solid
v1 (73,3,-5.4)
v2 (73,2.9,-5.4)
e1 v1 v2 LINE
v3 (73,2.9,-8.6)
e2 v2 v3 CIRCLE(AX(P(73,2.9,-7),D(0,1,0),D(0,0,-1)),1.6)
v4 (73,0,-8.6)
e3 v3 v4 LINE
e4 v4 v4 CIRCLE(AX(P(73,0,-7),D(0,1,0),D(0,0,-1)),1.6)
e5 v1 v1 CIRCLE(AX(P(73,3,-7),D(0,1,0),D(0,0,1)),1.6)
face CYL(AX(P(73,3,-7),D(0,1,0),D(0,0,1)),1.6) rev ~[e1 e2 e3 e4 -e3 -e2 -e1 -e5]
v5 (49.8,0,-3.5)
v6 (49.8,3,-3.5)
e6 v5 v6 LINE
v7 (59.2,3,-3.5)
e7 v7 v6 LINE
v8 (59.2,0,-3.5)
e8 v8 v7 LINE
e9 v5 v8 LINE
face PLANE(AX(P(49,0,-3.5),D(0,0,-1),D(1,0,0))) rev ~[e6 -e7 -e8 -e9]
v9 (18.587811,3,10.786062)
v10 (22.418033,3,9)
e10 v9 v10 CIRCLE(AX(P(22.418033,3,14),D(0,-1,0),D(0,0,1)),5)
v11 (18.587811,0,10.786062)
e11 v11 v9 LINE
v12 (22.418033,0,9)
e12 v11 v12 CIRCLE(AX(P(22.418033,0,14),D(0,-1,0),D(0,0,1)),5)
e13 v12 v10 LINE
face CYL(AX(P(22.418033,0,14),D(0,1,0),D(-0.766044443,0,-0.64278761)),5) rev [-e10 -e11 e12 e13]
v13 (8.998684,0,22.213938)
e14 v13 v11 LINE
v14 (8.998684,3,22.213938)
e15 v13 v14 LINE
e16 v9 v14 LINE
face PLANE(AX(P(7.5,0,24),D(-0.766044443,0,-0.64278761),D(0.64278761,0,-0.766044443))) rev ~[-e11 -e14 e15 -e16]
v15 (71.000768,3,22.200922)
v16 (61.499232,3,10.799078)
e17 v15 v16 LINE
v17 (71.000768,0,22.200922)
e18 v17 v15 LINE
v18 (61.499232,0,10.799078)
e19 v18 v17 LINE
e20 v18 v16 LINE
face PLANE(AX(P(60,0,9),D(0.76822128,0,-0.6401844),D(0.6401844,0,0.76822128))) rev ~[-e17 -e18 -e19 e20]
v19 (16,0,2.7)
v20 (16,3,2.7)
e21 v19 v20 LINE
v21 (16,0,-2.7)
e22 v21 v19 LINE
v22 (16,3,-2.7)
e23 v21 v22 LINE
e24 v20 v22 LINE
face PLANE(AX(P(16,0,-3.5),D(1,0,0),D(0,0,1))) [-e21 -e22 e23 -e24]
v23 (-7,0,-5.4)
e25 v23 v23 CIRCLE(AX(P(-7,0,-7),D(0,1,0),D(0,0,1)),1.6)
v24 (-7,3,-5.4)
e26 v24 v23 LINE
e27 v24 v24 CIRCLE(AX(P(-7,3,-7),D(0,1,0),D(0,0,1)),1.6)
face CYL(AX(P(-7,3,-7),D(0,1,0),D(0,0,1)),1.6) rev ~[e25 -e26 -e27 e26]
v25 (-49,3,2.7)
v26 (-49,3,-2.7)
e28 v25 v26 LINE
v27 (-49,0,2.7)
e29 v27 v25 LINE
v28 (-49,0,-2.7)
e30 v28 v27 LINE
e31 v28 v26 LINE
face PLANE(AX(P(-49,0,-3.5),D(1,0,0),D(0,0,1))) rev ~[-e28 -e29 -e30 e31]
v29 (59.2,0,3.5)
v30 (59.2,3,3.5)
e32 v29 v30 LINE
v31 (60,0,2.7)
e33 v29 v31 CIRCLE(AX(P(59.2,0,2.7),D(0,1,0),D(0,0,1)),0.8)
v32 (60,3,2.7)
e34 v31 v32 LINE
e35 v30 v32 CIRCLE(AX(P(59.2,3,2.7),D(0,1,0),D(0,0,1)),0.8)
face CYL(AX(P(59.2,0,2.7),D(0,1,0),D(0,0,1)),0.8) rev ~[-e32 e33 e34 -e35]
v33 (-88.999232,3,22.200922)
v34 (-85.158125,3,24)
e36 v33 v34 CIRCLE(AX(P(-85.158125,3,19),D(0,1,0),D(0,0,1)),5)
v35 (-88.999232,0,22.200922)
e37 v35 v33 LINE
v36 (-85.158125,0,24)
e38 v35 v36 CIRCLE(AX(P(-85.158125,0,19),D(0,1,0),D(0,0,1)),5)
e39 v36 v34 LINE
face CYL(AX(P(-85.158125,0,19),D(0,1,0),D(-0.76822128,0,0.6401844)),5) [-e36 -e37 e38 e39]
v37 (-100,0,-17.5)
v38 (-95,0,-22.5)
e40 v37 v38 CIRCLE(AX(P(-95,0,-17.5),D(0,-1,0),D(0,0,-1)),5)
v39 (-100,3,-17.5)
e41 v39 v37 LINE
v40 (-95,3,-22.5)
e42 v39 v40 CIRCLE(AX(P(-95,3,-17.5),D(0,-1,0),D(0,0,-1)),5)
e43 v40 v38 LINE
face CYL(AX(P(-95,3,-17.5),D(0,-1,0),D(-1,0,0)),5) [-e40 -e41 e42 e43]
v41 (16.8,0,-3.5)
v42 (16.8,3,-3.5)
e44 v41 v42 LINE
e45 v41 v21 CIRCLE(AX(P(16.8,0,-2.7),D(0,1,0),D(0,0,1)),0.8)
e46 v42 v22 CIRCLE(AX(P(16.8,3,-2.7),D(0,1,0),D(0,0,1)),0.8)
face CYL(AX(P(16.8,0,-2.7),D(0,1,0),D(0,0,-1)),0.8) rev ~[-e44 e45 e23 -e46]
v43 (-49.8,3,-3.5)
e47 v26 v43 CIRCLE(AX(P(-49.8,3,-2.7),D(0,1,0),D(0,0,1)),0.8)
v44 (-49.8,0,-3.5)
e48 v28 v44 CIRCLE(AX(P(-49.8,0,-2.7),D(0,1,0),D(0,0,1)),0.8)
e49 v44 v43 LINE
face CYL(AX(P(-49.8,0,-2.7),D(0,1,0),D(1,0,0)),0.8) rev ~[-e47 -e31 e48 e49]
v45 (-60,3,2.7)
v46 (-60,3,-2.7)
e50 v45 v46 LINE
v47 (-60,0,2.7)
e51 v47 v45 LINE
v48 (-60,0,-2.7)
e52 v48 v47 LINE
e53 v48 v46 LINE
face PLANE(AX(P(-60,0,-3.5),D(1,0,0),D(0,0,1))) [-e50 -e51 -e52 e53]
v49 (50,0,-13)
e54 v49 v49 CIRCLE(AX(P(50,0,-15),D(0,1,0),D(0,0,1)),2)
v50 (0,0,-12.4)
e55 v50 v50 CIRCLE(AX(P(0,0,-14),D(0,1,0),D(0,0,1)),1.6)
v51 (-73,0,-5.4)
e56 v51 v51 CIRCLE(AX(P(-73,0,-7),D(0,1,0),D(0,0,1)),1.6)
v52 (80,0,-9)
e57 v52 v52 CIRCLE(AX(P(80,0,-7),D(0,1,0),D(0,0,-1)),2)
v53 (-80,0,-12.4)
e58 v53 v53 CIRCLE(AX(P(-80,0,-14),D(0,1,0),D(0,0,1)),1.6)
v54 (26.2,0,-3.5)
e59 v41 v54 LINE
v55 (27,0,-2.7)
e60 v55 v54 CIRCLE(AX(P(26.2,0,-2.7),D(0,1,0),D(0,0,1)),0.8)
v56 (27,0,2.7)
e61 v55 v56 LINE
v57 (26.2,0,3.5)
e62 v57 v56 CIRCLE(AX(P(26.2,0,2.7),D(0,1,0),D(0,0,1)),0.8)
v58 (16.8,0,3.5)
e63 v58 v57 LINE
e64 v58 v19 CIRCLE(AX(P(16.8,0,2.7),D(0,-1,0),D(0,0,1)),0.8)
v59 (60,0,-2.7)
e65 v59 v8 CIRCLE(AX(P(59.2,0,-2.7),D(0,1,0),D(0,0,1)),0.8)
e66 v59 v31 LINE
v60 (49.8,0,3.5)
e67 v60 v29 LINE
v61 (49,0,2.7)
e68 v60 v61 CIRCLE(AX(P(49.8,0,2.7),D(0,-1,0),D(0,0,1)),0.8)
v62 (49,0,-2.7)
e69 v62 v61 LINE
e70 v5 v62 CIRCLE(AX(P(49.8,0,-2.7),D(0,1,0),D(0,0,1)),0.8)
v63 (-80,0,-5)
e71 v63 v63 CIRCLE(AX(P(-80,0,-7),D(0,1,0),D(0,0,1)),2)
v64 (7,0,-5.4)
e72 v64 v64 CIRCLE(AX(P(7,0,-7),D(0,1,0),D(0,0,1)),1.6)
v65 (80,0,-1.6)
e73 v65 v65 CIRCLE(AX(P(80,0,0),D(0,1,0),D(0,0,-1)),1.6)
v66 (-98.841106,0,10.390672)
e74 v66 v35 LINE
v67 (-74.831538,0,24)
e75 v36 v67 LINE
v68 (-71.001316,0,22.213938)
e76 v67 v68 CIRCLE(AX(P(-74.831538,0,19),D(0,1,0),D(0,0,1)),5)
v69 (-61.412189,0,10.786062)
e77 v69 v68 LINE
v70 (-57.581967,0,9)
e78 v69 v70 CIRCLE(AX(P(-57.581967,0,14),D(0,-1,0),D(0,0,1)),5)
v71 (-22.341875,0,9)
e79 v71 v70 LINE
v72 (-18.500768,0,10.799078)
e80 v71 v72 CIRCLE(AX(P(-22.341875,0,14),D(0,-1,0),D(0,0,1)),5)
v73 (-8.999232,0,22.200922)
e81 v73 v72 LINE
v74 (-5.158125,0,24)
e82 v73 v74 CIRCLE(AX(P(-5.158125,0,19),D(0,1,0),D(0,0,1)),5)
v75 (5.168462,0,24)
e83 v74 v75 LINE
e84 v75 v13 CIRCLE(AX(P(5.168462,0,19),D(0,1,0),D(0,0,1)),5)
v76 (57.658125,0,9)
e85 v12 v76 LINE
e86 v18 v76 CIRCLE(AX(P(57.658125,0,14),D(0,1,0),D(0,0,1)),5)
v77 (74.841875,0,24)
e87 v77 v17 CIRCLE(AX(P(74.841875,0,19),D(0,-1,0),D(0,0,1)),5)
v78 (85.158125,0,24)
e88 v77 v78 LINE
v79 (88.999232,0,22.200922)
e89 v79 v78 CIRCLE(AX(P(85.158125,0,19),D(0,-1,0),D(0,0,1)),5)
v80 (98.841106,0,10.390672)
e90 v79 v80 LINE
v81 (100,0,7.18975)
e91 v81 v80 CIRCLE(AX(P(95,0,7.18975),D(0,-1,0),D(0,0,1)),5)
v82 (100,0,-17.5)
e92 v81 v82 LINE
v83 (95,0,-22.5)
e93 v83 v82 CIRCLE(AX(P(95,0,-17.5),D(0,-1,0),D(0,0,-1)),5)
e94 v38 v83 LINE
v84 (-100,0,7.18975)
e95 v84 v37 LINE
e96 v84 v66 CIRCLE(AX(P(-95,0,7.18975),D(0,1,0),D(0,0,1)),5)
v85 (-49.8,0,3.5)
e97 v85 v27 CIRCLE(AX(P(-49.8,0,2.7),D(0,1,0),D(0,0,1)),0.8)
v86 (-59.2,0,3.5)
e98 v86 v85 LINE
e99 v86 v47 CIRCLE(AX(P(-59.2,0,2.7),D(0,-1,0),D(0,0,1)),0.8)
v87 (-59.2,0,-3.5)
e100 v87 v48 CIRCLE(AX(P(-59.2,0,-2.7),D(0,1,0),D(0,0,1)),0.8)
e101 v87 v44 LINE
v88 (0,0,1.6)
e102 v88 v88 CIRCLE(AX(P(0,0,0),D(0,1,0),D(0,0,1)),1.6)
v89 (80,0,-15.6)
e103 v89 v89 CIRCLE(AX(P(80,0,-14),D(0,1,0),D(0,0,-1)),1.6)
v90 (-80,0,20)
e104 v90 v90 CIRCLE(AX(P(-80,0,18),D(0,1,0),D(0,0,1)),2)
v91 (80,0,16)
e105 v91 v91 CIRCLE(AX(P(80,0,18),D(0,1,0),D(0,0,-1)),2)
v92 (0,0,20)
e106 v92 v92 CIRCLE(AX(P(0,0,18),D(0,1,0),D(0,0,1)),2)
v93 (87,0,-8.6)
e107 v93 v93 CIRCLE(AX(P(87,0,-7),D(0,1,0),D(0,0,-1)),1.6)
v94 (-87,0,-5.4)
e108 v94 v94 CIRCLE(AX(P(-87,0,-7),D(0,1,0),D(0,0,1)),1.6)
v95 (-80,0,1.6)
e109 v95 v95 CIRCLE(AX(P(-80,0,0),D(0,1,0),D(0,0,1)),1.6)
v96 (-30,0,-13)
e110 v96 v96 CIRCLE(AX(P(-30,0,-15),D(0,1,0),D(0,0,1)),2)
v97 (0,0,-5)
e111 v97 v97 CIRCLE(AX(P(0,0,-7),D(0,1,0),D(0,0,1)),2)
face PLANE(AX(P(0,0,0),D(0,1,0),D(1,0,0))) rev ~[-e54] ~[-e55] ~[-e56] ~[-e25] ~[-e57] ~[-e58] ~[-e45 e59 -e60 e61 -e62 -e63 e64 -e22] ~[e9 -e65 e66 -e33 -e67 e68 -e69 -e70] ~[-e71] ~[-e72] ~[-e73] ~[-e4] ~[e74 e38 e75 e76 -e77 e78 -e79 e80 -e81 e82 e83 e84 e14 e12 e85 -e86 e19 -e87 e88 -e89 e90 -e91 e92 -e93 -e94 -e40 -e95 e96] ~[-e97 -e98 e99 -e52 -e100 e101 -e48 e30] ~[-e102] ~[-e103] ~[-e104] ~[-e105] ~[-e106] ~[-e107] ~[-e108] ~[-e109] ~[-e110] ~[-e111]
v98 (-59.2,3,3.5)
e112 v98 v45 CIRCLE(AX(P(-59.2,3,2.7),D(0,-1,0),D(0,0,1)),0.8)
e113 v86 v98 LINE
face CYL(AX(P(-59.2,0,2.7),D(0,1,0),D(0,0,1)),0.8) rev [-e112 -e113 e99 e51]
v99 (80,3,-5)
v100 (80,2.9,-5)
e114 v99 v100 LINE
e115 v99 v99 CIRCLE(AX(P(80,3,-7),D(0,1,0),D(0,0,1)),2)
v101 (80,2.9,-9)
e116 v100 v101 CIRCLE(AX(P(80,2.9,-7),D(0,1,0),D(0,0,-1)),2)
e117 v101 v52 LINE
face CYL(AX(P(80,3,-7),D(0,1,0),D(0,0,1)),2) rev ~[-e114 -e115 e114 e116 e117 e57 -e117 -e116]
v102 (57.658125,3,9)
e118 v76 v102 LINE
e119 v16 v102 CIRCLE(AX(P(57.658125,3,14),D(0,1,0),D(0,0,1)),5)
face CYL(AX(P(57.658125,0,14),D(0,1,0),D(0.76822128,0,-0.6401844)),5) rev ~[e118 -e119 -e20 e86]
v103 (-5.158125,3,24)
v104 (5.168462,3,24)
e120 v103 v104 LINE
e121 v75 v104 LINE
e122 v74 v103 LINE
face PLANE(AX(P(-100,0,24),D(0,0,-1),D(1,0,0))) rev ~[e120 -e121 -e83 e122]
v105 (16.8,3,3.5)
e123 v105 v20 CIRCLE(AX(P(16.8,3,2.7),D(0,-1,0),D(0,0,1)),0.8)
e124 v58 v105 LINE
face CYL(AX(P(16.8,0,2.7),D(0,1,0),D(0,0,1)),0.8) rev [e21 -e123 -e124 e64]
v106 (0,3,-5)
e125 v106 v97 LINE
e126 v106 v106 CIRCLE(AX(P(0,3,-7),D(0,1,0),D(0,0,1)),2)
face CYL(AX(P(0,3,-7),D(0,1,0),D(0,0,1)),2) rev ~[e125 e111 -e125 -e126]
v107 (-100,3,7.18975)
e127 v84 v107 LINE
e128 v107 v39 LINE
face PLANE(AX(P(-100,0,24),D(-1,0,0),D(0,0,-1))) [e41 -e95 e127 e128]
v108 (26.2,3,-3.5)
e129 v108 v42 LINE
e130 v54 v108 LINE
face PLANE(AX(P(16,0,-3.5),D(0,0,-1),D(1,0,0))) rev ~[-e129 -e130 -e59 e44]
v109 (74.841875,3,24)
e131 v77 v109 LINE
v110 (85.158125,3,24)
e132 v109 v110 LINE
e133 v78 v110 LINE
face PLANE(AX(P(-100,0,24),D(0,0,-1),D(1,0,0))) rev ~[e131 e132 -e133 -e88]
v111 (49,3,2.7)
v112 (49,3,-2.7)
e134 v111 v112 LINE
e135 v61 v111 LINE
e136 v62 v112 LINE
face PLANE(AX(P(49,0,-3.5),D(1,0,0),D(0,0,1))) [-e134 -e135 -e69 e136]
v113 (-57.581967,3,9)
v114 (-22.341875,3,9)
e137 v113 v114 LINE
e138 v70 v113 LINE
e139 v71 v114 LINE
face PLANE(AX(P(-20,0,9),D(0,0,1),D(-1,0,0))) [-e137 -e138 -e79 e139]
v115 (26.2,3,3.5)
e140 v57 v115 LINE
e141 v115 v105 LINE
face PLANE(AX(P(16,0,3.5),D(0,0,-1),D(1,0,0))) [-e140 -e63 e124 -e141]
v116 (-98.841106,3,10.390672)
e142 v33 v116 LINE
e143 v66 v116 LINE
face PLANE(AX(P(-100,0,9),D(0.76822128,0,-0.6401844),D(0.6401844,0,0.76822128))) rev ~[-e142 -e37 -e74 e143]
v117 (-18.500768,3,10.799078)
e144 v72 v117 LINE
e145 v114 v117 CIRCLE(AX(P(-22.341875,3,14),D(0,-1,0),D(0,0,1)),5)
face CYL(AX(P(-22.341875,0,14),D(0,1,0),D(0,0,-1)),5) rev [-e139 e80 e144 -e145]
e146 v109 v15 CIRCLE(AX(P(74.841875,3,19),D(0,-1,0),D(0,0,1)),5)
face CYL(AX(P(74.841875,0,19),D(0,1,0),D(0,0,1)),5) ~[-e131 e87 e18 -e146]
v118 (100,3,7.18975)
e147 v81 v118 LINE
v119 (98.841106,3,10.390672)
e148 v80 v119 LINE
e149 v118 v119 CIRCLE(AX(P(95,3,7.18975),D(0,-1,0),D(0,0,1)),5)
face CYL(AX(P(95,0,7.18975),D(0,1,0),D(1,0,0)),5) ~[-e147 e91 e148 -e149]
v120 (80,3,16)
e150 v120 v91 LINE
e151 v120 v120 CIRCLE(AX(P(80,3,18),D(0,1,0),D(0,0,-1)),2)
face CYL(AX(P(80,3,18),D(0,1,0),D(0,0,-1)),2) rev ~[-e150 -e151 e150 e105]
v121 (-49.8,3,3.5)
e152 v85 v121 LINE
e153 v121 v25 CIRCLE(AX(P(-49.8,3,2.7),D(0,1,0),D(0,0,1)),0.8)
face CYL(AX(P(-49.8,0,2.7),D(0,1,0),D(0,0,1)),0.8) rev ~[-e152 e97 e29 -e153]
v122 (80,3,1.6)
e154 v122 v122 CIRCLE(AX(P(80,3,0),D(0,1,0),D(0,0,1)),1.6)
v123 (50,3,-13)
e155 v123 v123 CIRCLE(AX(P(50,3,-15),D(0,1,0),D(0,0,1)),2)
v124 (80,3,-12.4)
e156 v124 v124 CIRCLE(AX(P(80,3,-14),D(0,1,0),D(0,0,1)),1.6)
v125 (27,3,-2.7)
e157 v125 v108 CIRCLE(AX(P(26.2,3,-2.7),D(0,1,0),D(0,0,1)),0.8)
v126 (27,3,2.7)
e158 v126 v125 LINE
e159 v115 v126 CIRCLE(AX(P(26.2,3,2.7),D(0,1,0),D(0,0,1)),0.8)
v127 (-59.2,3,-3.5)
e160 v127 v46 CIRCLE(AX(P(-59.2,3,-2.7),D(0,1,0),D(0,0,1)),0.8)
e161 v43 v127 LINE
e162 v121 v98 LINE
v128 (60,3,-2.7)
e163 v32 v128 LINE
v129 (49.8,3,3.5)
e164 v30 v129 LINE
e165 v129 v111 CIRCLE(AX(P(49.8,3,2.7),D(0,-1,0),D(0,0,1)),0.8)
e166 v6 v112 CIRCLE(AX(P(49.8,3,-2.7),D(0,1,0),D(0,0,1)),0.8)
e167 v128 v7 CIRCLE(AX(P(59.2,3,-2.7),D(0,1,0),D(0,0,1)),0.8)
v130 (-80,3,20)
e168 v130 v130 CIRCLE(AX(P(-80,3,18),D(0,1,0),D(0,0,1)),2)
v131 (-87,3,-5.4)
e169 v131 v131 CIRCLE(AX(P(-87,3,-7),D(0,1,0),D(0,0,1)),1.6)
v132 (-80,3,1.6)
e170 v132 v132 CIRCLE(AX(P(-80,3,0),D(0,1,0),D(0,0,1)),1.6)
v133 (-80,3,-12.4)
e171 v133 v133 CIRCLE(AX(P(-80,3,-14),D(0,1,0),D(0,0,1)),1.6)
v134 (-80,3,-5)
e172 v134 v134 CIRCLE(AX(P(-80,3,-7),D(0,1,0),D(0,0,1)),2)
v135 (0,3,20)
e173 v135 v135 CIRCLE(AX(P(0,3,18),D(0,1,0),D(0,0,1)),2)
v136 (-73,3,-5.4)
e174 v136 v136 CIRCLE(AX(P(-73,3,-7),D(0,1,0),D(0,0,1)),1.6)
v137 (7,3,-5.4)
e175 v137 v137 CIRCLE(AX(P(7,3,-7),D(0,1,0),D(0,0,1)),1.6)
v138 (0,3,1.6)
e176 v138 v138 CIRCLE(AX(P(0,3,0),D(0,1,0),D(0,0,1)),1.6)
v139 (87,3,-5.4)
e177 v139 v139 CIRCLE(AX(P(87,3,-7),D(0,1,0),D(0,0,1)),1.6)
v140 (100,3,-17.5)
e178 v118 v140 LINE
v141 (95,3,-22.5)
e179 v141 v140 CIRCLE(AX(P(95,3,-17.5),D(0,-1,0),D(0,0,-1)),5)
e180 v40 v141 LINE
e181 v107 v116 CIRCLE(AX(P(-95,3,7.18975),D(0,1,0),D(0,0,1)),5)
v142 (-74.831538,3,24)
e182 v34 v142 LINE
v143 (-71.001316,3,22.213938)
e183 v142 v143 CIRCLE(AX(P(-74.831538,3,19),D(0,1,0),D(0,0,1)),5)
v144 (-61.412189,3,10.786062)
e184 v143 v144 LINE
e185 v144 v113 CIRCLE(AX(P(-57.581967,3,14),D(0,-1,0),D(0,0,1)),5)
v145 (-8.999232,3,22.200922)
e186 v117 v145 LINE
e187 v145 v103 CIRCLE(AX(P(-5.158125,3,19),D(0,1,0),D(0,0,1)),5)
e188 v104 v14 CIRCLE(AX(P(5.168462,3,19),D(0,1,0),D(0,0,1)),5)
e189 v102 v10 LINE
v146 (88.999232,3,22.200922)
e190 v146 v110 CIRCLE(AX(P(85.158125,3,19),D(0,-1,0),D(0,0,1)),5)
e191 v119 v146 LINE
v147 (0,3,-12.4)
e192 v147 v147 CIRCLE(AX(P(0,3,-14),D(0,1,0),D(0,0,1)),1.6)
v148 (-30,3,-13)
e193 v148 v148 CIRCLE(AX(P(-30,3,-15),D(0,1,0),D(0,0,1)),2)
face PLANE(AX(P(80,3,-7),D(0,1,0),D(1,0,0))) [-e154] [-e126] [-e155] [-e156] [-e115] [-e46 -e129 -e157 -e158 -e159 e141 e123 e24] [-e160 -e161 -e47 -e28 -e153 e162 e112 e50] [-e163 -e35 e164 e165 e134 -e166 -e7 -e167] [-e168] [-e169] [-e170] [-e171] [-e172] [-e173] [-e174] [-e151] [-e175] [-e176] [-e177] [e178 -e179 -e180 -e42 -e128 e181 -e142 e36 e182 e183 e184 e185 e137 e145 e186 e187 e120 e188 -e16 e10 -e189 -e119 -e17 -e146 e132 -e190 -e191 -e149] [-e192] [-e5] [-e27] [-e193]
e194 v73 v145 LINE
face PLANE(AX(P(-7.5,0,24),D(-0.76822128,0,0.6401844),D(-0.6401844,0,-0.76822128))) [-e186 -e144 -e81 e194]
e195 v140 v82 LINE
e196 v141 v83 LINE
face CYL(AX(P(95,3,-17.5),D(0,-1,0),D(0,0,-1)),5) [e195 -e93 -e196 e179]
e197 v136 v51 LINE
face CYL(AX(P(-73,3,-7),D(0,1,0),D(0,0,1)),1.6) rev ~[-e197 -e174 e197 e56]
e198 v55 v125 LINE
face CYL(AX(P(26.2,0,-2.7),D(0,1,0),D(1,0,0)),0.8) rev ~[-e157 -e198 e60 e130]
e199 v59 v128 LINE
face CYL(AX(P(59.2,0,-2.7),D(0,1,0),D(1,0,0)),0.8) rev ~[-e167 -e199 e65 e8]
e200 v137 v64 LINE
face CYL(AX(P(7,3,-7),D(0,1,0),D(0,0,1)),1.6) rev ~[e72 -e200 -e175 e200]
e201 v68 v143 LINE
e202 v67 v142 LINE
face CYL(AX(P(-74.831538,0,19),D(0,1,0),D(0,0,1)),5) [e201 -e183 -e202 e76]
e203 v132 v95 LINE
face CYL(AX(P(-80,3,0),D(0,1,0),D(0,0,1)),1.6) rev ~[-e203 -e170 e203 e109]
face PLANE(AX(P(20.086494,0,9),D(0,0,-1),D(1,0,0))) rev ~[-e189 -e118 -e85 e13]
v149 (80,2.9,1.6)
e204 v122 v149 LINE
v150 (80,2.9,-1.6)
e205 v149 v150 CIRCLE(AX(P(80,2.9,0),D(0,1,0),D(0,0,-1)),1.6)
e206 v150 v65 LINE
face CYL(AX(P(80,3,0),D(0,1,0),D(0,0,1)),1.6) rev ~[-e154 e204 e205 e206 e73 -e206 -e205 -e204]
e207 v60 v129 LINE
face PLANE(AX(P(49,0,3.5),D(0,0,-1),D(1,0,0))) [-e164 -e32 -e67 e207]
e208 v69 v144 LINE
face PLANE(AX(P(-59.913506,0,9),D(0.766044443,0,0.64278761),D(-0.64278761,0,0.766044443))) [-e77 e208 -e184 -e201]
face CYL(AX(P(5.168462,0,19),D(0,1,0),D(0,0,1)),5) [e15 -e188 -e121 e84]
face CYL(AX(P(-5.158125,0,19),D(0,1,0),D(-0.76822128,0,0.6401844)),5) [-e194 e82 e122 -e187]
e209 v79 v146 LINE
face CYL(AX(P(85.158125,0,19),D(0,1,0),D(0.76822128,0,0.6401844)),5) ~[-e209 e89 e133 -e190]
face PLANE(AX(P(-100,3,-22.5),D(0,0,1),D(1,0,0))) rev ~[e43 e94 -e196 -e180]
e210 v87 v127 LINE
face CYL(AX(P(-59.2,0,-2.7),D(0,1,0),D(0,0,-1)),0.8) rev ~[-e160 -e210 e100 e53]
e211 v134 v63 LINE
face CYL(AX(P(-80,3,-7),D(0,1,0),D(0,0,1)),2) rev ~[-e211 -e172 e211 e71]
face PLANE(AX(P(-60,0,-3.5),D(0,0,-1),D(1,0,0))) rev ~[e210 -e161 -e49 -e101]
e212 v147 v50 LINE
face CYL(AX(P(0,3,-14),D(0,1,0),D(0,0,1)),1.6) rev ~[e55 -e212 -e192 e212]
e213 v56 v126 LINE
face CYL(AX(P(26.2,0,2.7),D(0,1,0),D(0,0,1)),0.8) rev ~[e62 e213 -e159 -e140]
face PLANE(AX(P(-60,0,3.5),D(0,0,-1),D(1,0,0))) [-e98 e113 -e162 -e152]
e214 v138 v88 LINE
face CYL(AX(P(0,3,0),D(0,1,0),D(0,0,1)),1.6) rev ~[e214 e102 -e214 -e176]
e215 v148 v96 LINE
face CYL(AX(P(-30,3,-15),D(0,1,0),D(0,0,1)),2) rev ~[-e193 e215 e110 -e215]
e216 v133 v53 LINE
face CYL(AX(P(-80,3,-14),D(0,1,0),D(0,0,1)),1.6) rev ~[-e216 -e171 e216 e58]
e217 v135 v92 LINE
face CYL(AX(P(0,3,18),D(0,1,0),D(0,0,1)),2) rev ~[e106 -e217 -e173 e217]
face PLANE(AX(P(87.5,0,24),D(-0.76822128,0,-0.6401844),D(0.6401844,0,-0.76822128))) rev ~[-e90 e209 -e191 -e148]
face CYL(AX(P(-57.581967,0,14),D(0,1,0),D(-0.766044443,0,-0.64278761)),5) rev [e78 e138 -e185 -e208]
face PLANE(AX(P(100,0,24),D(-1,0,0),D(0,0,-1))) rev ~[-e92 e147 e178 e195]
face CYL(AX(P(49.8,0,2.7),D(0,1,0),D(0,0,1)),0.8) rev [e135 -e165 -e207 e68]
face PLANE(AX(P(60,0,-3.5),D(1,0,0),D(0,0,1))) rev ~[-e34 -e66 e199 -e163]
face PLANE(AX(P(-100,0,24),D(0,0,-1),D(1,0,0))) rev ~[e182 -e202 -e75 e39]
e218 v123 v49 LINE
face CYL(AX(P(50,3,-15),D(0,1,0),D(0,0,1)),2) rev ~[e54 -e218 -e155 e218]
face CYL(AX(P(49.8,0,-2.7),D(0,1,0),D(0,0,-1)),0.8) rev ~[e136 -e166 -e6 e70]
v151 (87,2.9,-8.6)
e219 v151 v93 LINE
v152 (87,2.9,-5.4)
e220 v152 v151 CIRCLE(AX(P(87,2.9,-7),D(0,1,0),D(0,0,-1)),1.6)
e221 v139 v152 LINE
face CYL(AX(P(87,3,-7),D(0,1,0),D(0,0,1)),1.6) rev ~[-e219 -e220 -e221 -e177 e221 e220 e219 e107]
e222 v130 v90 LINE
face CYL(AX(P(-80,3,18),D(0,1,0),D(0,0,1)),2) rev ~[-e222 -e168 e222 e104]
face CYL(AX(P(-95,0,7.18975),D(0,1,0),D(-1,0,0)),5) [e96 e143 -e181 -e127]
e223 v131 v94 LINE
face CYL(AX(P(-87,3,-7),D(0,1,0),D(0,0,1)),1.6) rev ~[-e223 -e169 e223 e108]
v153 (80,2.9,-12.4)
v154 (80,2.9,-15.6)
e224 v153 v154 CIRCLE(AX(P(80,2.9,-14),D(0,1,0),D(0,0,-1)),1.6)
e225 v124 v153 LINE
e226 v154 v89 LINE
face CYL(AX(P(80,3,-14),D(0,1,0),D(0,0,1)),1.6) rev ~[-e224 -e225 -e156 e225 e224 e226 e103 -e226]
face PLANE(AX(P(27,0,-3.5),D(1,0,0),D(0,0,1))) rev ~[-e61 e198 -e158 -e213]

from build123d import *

# Parameters (mm, degrees)
SKETCH_1_W             = 200
SKETCH_1_H             = 48
EXTRUDE_1_DEPTH        = 3
SKETCH_2_R             = 2
CUT_EXTRUDE_1_DEPTH    = 3
SKETCH_3_R             = 10.5
CUT_EXTRUDE_2_DEPTH    = 0.1
SKETCH_5_R             = 2
SKETCH_5_R_2           = 1.6
CUT_EXTRUDE_3_DEPTH    = 10
SKETCH_7_W             = 200
SKETCH_7_H             = 1.5
CUT_EXTRUDE_4_DEPTH    = 10
SKETCH_9_R             = 10.5
SKETCH_9_R_2           = 1.6
SKETCH_9_R_3           = 2
EXTRUDE_3_DEPTH        = 0.1
CUT_EXTRUDE_3602_DEPTH = 10
SKETCH_11_W            = 11
SKETCH_11_H            = 7
CUT_EXTRUDE_6_DEPTH    = 10
FILLET_1_R             = 5
FILLET_2_R             = 5
FILLET_3_R             = 0.8


with BuildPart() as part:
    # 草图1 → 凸台-拉伸1 (new body)
    with BuildSketch(Plane(origin=(0, 0, 0), x_dir=(1, 0, 0), z_dir=(0, 1, 0))):
        Rectangle(SKETCH_1_W, SKETCH_1_H)
    extrude(amount=EXTRUDE_1_DEPTH)

    # 草图2 → 切除-拉伸1 (cut)
    with BuildSketch(Plane(origin=(0, 3, 0), x_dir=(1, 0, 0), z_dir=(0, 1, 0))):
        with Locations(Location((-80, -18, 0), (0, 0, 270))):
            Circle(SKETCH_2_R)
        with Locations(Location((0, -18, 0), (0, 0, 270))):
            Circle(SKETCH_2_R)
        with Locations(Location((80, -18, 0), (0, 0, 90))):
            Circle(SKETCH_2_R)
        with Locations(Location((-30, 15, 0), (0, 0, 270))):
            Circle(SKETCH_2_R)
        with Locations(Location((50, 15, 0), (0, 0, 270))):
            Circle(SKETCH_2_R)
    extrude(amount=-CUT_EXTRUDE_1_DEPTH, mode=Mode.SUBTRACT)

    # 草图3 → 切除-拉伸2 (cut)
    with BuildSketch(Plane(origin=(0, 3, 0), x_dir=(1, 0, 0), z_dir=(0, 1, 0))):
        with Locations(Location((-80, 7, 0), (0, 0, 270))):
            Circle(SKETCH_3_R)
        with Locations(Location((0, 7, 0), (0, 0, 270))):
            Circle(SKETCH_3_R)
        with Locations(Location((80, 7, 0), (0, 0, 90))):
            Circle(SKETCH_3_R)
    extrude(amount=-CUT_EXTRUDE_2_DEPTH, mode=Mode.SUBTRACT)

    # 草图5 → 切除-拉伸3 (cut)
    with BuildSketch(Plane(origin=(0, 3, 0), x_dir=(1, 0, 0), z_dir=(0, 1, 0))):
        with Locations(Location((0, 7, 0), (0, 0, 270))):
            Circle(SKETCH_5_R)
        with Locations(Location((0, 14, 0), (0, 0, 270))):
            Circle(SKETCH_5_R_2)
        with Locations(Location((-7, 7, 0), (0, 0, 270))):
            Circle(SKETCH_5_R_2)
        with Locations(Location((7, 7, 0), (0, 0, 270))):
            Circle(SKETCH_5_R_2)
        with Locations(Location((0, 0, 0), (0, 0, 270))):
            Circle(SKETCH_5_R_2)
        with Locations(Location((-80, 0, 0), (0, 0, 270))):
            Circle(SKETCH_5_R_2)
        with Locations(Location((-87, 7, 0), (0, 0, 270))):
            Circle(SKETCH_5_R_2)
        with Locations(Location((-73, 7, 0), (0, 0, 270))):
            Circle(SKETCH_5_R_2)
        with Locations(Location((-80, 14, 0), (0, 0, 270))):
            Circle(SKETCH_5_R_2)
        with Locations(Location((-80, 7, 0), (0, 0, 270))):
            Circle(SKETCH_5_R)
        with Locations(Location((80, 7, 0), (0, 0, 90))):
            Circle(SKETCH_5_R)
        with Locations(Location((80, 14, 0), (0, 0, 90))):
            Circle(SKETCH_5_R_2)
        with Locations(Location((73, 7, 0), (0, 0, 90))):
            Circle(SKETCH_5_R_2)
        with Locations(Location((87, 7, 0), (0, 0, 90))):
            Circle(SKETCH_5_R_2)
        with Locations(Location((80, 0, 0), (0, 0, 90))):
            Circle(SKETCH_5_R_2)
    extrude(amount=-CUT_EXTRUDE_3_DEPTH, mode=Mode.SUBTRACT)

    # 草图7 → 切除-拉伸4 (cut)
    with BuildSketch(Plane(origin=(0, 3, 0), x_dir=(1, 0, 0), z_dir=(0, 1, 0))):
        with Locations((0, 23.25)):
            Rectangle(SKETCH_7_W, SKETCH_7_H)
    extrude(amount=-CUT_EXTRUDE_4_DEPTH, mode=Mode.SUBTRACT)

    # 草图9 → 凸台-拉伸3 (add)
    # profile 1 of 3: a face of its own
    with BuildSketch(Plane(origin=(0, 3, 0), x_dir=(1, 0, 0), z_dir=(0, 1, 0))):
        with Locations((80, 7)):
            Circle(SKETCH_9_R)
        with Locations(Location((73, 7, 0), (0, 0, 270))):
            Circle(SKETCH_9_R_2, mode=Mode.SUBTRACT)
        with Locations(Location((80, 14, 0), (0, 0, 270))):
            Circle(SKETCH_9_R_2, mode=Mode.SUBTRACT)
        with Locations(Location((80, 7, 0), (0, 0, 270))):
            Circle(SKETCH_9_R_3, mode=Mode.SUBTRACT)
        with Locations(Location((87, 7, 0), (0, 0, 270))):
            Circle(SKETCH_9_R_2, mode=Mode.SUBTRACT)
        with Locations(Location((80, 0, 0), (0, 0, 270))):
            Circle(SKETCH_9_R_2, mode=Mode.SUBTRACT)
    # profile 2 of 3: a face of its own
    with BuildSketch(Plane(origin=(0, 3, 0), x_dir=(1, 0, 0), z_dir=(0, 1, 0))):
        with Locations((0, 7)):
            Circle(SKETCH_9_R)
        with Locations(Location((0, 7, 0), (0, 0, 270))):
            Circle(SKETCH_9_R_3, mode=Mode.SUBTRACT)
        with Locations(Location((0, 14, 0), (0, 0, 270))):
            Circle(SKETCH_9_R_2, mode=Mode.SUBTRACT)
        with Locations(Location((-7, 7, 0), (0, 0, 270))):
            Circle(SKETCH_9_R_2, mode=Mode.SUBTRACT)
        with Locations(Location((7, 7, 0), (0, 0, 270))):
            Circle(SKETCH_9_R_2, mode=Mode.SUBTRACT)
        with Locations(Location((0, 0, 0), (0, 0, 270))):
            Circle(SKETCH_9_R_2, mode=Mode.SUBTRACT)
    # profile 3 of 3: a face of its own
    with BuildSketch(Plane(origin=(0, 3, 0), x_dir=(1, 0, 0), z_dir=(0, 1, 0))):
        with Locations((-80, 7)):
            Circle(SKETCH_9_R)
        with Locations(Location((-87, 7, 0), (0, 0, 270))):
            Circle(SKETCH_9_R_2, mode=Mode.SUBTRACT)
        with Locations(Location((-80, 0, 0), (0, 0, 270))):
            Circle(SKETCH_9_R_2, mode=Mode.SUBTRACT)
        with Locations(Location((-80, 14, 0), (0, 0, 270))):
            Circle(SKETCH_9_R_2, mode=Mode.SUBTRACT)
        with Locations(Location((-73, 7, 0), (0, 0, 270))):
            Circle(SKETCH_9_R_2, mode=Mode.SUBTRACT)
        with Locations(Location((-80, 7, 0), (0, 0, 270))):
            Circle(SKETCH_9_R_3, mode=Mode.SUBTRACT)
    extrude(amount=-EXTRUDE_3_DEPTH)

    # 草图10 → Cut-Extrude 3602 (cut)
    with BuildSketch(Plane.XZ):
        Polygon((-100, 9), (-87.5, 24), (-100, 24), align=None)
        Polygon((-72.5, 24), (-7.5, 24), (-20, 9), (-59.913505532, 9), align=None)
        Polygon((72.5, 24), (7.5, 24), (20.086494468, 9), (60, 9), align=None)
        Polygon((87.5, 24), (100, 9), (100, 24), align=None)
    extrude(amount=-CUT_EXTRUDE_3602_DEPTH, mode=Mode.SUBTRACT)

    # 草图11 → 切除-拉伸6 (cut)
    with BuildSketch(Plane.XZ):
        with Locations((-54.5, 0)):
            Rectangle(SKETCH_11_W, SKETCH_11_H)
        with Locations((21.5, 0)):
            Rectangle(SKETCH_11_W, SKETCH_11_H)
        with Locations((54.5, 0)):
            Rectangle(SKETCH_11_W, SKETCH_11_H)
    extrude(amount=-CUT_EXTRUDE_6_DEPTH, mode=Mode.SUBTRACT)

    # 圆角1
    fillet_1_edges = [part.edges().sort_by_distance(p)[0] for p in [
        (100, 1.5, -22.5),
        (-100, 1.5, -22.5),
    ]]
    fillet(fillet_1_edges, radius=FILLET_1_R)

    # 圆角2
    fillet_2_edges = [part.edges().sort_by_distance(p)[0] for p in [
        (-100, 1.5, 9),
        (-87.5, 1.5, 24),
        (-7.5, 1.5, 24),
        (-20, 1.5, 9),
        (-59.913505532, 1.5, 9),
        (-72.5, 1.5, 24),
        (20.086494468, 1.5, 9),
        (7.5, 1.5, 24),
        (72.5, 1.5, 24),
        (60, 1.5, 9),
        (87.5, 1.5, 24),
        (100, 1.5, 9),
    ]]
    fillet(fillet_2_edges, radius=FILLET_2_R)

    # 圆角3
    fillet_3_edges = [part.edges().sort_by_distance(p)[0] for p in [
        (-60, 1.5, -3.5),
        (-60, 1.5, 3.5),
        (-49, 1.5, 3.5),
        (-49, 1.5, -3.5),
        (16, 1.5, -3.5),
        (16, 1.5, 3.5),
        (27, 1.5, 3.5),
        (27, 1.5, -3.5),
        (49, 1.5, -3.5),
        (49, 1.5, 3.5),
        (60, 1.5, 3.5),
        (60, 1.5, -3.5),
    ]]
    fillet(fillet_3_edges, radius=FILLET_3_R)


solid = part.part
